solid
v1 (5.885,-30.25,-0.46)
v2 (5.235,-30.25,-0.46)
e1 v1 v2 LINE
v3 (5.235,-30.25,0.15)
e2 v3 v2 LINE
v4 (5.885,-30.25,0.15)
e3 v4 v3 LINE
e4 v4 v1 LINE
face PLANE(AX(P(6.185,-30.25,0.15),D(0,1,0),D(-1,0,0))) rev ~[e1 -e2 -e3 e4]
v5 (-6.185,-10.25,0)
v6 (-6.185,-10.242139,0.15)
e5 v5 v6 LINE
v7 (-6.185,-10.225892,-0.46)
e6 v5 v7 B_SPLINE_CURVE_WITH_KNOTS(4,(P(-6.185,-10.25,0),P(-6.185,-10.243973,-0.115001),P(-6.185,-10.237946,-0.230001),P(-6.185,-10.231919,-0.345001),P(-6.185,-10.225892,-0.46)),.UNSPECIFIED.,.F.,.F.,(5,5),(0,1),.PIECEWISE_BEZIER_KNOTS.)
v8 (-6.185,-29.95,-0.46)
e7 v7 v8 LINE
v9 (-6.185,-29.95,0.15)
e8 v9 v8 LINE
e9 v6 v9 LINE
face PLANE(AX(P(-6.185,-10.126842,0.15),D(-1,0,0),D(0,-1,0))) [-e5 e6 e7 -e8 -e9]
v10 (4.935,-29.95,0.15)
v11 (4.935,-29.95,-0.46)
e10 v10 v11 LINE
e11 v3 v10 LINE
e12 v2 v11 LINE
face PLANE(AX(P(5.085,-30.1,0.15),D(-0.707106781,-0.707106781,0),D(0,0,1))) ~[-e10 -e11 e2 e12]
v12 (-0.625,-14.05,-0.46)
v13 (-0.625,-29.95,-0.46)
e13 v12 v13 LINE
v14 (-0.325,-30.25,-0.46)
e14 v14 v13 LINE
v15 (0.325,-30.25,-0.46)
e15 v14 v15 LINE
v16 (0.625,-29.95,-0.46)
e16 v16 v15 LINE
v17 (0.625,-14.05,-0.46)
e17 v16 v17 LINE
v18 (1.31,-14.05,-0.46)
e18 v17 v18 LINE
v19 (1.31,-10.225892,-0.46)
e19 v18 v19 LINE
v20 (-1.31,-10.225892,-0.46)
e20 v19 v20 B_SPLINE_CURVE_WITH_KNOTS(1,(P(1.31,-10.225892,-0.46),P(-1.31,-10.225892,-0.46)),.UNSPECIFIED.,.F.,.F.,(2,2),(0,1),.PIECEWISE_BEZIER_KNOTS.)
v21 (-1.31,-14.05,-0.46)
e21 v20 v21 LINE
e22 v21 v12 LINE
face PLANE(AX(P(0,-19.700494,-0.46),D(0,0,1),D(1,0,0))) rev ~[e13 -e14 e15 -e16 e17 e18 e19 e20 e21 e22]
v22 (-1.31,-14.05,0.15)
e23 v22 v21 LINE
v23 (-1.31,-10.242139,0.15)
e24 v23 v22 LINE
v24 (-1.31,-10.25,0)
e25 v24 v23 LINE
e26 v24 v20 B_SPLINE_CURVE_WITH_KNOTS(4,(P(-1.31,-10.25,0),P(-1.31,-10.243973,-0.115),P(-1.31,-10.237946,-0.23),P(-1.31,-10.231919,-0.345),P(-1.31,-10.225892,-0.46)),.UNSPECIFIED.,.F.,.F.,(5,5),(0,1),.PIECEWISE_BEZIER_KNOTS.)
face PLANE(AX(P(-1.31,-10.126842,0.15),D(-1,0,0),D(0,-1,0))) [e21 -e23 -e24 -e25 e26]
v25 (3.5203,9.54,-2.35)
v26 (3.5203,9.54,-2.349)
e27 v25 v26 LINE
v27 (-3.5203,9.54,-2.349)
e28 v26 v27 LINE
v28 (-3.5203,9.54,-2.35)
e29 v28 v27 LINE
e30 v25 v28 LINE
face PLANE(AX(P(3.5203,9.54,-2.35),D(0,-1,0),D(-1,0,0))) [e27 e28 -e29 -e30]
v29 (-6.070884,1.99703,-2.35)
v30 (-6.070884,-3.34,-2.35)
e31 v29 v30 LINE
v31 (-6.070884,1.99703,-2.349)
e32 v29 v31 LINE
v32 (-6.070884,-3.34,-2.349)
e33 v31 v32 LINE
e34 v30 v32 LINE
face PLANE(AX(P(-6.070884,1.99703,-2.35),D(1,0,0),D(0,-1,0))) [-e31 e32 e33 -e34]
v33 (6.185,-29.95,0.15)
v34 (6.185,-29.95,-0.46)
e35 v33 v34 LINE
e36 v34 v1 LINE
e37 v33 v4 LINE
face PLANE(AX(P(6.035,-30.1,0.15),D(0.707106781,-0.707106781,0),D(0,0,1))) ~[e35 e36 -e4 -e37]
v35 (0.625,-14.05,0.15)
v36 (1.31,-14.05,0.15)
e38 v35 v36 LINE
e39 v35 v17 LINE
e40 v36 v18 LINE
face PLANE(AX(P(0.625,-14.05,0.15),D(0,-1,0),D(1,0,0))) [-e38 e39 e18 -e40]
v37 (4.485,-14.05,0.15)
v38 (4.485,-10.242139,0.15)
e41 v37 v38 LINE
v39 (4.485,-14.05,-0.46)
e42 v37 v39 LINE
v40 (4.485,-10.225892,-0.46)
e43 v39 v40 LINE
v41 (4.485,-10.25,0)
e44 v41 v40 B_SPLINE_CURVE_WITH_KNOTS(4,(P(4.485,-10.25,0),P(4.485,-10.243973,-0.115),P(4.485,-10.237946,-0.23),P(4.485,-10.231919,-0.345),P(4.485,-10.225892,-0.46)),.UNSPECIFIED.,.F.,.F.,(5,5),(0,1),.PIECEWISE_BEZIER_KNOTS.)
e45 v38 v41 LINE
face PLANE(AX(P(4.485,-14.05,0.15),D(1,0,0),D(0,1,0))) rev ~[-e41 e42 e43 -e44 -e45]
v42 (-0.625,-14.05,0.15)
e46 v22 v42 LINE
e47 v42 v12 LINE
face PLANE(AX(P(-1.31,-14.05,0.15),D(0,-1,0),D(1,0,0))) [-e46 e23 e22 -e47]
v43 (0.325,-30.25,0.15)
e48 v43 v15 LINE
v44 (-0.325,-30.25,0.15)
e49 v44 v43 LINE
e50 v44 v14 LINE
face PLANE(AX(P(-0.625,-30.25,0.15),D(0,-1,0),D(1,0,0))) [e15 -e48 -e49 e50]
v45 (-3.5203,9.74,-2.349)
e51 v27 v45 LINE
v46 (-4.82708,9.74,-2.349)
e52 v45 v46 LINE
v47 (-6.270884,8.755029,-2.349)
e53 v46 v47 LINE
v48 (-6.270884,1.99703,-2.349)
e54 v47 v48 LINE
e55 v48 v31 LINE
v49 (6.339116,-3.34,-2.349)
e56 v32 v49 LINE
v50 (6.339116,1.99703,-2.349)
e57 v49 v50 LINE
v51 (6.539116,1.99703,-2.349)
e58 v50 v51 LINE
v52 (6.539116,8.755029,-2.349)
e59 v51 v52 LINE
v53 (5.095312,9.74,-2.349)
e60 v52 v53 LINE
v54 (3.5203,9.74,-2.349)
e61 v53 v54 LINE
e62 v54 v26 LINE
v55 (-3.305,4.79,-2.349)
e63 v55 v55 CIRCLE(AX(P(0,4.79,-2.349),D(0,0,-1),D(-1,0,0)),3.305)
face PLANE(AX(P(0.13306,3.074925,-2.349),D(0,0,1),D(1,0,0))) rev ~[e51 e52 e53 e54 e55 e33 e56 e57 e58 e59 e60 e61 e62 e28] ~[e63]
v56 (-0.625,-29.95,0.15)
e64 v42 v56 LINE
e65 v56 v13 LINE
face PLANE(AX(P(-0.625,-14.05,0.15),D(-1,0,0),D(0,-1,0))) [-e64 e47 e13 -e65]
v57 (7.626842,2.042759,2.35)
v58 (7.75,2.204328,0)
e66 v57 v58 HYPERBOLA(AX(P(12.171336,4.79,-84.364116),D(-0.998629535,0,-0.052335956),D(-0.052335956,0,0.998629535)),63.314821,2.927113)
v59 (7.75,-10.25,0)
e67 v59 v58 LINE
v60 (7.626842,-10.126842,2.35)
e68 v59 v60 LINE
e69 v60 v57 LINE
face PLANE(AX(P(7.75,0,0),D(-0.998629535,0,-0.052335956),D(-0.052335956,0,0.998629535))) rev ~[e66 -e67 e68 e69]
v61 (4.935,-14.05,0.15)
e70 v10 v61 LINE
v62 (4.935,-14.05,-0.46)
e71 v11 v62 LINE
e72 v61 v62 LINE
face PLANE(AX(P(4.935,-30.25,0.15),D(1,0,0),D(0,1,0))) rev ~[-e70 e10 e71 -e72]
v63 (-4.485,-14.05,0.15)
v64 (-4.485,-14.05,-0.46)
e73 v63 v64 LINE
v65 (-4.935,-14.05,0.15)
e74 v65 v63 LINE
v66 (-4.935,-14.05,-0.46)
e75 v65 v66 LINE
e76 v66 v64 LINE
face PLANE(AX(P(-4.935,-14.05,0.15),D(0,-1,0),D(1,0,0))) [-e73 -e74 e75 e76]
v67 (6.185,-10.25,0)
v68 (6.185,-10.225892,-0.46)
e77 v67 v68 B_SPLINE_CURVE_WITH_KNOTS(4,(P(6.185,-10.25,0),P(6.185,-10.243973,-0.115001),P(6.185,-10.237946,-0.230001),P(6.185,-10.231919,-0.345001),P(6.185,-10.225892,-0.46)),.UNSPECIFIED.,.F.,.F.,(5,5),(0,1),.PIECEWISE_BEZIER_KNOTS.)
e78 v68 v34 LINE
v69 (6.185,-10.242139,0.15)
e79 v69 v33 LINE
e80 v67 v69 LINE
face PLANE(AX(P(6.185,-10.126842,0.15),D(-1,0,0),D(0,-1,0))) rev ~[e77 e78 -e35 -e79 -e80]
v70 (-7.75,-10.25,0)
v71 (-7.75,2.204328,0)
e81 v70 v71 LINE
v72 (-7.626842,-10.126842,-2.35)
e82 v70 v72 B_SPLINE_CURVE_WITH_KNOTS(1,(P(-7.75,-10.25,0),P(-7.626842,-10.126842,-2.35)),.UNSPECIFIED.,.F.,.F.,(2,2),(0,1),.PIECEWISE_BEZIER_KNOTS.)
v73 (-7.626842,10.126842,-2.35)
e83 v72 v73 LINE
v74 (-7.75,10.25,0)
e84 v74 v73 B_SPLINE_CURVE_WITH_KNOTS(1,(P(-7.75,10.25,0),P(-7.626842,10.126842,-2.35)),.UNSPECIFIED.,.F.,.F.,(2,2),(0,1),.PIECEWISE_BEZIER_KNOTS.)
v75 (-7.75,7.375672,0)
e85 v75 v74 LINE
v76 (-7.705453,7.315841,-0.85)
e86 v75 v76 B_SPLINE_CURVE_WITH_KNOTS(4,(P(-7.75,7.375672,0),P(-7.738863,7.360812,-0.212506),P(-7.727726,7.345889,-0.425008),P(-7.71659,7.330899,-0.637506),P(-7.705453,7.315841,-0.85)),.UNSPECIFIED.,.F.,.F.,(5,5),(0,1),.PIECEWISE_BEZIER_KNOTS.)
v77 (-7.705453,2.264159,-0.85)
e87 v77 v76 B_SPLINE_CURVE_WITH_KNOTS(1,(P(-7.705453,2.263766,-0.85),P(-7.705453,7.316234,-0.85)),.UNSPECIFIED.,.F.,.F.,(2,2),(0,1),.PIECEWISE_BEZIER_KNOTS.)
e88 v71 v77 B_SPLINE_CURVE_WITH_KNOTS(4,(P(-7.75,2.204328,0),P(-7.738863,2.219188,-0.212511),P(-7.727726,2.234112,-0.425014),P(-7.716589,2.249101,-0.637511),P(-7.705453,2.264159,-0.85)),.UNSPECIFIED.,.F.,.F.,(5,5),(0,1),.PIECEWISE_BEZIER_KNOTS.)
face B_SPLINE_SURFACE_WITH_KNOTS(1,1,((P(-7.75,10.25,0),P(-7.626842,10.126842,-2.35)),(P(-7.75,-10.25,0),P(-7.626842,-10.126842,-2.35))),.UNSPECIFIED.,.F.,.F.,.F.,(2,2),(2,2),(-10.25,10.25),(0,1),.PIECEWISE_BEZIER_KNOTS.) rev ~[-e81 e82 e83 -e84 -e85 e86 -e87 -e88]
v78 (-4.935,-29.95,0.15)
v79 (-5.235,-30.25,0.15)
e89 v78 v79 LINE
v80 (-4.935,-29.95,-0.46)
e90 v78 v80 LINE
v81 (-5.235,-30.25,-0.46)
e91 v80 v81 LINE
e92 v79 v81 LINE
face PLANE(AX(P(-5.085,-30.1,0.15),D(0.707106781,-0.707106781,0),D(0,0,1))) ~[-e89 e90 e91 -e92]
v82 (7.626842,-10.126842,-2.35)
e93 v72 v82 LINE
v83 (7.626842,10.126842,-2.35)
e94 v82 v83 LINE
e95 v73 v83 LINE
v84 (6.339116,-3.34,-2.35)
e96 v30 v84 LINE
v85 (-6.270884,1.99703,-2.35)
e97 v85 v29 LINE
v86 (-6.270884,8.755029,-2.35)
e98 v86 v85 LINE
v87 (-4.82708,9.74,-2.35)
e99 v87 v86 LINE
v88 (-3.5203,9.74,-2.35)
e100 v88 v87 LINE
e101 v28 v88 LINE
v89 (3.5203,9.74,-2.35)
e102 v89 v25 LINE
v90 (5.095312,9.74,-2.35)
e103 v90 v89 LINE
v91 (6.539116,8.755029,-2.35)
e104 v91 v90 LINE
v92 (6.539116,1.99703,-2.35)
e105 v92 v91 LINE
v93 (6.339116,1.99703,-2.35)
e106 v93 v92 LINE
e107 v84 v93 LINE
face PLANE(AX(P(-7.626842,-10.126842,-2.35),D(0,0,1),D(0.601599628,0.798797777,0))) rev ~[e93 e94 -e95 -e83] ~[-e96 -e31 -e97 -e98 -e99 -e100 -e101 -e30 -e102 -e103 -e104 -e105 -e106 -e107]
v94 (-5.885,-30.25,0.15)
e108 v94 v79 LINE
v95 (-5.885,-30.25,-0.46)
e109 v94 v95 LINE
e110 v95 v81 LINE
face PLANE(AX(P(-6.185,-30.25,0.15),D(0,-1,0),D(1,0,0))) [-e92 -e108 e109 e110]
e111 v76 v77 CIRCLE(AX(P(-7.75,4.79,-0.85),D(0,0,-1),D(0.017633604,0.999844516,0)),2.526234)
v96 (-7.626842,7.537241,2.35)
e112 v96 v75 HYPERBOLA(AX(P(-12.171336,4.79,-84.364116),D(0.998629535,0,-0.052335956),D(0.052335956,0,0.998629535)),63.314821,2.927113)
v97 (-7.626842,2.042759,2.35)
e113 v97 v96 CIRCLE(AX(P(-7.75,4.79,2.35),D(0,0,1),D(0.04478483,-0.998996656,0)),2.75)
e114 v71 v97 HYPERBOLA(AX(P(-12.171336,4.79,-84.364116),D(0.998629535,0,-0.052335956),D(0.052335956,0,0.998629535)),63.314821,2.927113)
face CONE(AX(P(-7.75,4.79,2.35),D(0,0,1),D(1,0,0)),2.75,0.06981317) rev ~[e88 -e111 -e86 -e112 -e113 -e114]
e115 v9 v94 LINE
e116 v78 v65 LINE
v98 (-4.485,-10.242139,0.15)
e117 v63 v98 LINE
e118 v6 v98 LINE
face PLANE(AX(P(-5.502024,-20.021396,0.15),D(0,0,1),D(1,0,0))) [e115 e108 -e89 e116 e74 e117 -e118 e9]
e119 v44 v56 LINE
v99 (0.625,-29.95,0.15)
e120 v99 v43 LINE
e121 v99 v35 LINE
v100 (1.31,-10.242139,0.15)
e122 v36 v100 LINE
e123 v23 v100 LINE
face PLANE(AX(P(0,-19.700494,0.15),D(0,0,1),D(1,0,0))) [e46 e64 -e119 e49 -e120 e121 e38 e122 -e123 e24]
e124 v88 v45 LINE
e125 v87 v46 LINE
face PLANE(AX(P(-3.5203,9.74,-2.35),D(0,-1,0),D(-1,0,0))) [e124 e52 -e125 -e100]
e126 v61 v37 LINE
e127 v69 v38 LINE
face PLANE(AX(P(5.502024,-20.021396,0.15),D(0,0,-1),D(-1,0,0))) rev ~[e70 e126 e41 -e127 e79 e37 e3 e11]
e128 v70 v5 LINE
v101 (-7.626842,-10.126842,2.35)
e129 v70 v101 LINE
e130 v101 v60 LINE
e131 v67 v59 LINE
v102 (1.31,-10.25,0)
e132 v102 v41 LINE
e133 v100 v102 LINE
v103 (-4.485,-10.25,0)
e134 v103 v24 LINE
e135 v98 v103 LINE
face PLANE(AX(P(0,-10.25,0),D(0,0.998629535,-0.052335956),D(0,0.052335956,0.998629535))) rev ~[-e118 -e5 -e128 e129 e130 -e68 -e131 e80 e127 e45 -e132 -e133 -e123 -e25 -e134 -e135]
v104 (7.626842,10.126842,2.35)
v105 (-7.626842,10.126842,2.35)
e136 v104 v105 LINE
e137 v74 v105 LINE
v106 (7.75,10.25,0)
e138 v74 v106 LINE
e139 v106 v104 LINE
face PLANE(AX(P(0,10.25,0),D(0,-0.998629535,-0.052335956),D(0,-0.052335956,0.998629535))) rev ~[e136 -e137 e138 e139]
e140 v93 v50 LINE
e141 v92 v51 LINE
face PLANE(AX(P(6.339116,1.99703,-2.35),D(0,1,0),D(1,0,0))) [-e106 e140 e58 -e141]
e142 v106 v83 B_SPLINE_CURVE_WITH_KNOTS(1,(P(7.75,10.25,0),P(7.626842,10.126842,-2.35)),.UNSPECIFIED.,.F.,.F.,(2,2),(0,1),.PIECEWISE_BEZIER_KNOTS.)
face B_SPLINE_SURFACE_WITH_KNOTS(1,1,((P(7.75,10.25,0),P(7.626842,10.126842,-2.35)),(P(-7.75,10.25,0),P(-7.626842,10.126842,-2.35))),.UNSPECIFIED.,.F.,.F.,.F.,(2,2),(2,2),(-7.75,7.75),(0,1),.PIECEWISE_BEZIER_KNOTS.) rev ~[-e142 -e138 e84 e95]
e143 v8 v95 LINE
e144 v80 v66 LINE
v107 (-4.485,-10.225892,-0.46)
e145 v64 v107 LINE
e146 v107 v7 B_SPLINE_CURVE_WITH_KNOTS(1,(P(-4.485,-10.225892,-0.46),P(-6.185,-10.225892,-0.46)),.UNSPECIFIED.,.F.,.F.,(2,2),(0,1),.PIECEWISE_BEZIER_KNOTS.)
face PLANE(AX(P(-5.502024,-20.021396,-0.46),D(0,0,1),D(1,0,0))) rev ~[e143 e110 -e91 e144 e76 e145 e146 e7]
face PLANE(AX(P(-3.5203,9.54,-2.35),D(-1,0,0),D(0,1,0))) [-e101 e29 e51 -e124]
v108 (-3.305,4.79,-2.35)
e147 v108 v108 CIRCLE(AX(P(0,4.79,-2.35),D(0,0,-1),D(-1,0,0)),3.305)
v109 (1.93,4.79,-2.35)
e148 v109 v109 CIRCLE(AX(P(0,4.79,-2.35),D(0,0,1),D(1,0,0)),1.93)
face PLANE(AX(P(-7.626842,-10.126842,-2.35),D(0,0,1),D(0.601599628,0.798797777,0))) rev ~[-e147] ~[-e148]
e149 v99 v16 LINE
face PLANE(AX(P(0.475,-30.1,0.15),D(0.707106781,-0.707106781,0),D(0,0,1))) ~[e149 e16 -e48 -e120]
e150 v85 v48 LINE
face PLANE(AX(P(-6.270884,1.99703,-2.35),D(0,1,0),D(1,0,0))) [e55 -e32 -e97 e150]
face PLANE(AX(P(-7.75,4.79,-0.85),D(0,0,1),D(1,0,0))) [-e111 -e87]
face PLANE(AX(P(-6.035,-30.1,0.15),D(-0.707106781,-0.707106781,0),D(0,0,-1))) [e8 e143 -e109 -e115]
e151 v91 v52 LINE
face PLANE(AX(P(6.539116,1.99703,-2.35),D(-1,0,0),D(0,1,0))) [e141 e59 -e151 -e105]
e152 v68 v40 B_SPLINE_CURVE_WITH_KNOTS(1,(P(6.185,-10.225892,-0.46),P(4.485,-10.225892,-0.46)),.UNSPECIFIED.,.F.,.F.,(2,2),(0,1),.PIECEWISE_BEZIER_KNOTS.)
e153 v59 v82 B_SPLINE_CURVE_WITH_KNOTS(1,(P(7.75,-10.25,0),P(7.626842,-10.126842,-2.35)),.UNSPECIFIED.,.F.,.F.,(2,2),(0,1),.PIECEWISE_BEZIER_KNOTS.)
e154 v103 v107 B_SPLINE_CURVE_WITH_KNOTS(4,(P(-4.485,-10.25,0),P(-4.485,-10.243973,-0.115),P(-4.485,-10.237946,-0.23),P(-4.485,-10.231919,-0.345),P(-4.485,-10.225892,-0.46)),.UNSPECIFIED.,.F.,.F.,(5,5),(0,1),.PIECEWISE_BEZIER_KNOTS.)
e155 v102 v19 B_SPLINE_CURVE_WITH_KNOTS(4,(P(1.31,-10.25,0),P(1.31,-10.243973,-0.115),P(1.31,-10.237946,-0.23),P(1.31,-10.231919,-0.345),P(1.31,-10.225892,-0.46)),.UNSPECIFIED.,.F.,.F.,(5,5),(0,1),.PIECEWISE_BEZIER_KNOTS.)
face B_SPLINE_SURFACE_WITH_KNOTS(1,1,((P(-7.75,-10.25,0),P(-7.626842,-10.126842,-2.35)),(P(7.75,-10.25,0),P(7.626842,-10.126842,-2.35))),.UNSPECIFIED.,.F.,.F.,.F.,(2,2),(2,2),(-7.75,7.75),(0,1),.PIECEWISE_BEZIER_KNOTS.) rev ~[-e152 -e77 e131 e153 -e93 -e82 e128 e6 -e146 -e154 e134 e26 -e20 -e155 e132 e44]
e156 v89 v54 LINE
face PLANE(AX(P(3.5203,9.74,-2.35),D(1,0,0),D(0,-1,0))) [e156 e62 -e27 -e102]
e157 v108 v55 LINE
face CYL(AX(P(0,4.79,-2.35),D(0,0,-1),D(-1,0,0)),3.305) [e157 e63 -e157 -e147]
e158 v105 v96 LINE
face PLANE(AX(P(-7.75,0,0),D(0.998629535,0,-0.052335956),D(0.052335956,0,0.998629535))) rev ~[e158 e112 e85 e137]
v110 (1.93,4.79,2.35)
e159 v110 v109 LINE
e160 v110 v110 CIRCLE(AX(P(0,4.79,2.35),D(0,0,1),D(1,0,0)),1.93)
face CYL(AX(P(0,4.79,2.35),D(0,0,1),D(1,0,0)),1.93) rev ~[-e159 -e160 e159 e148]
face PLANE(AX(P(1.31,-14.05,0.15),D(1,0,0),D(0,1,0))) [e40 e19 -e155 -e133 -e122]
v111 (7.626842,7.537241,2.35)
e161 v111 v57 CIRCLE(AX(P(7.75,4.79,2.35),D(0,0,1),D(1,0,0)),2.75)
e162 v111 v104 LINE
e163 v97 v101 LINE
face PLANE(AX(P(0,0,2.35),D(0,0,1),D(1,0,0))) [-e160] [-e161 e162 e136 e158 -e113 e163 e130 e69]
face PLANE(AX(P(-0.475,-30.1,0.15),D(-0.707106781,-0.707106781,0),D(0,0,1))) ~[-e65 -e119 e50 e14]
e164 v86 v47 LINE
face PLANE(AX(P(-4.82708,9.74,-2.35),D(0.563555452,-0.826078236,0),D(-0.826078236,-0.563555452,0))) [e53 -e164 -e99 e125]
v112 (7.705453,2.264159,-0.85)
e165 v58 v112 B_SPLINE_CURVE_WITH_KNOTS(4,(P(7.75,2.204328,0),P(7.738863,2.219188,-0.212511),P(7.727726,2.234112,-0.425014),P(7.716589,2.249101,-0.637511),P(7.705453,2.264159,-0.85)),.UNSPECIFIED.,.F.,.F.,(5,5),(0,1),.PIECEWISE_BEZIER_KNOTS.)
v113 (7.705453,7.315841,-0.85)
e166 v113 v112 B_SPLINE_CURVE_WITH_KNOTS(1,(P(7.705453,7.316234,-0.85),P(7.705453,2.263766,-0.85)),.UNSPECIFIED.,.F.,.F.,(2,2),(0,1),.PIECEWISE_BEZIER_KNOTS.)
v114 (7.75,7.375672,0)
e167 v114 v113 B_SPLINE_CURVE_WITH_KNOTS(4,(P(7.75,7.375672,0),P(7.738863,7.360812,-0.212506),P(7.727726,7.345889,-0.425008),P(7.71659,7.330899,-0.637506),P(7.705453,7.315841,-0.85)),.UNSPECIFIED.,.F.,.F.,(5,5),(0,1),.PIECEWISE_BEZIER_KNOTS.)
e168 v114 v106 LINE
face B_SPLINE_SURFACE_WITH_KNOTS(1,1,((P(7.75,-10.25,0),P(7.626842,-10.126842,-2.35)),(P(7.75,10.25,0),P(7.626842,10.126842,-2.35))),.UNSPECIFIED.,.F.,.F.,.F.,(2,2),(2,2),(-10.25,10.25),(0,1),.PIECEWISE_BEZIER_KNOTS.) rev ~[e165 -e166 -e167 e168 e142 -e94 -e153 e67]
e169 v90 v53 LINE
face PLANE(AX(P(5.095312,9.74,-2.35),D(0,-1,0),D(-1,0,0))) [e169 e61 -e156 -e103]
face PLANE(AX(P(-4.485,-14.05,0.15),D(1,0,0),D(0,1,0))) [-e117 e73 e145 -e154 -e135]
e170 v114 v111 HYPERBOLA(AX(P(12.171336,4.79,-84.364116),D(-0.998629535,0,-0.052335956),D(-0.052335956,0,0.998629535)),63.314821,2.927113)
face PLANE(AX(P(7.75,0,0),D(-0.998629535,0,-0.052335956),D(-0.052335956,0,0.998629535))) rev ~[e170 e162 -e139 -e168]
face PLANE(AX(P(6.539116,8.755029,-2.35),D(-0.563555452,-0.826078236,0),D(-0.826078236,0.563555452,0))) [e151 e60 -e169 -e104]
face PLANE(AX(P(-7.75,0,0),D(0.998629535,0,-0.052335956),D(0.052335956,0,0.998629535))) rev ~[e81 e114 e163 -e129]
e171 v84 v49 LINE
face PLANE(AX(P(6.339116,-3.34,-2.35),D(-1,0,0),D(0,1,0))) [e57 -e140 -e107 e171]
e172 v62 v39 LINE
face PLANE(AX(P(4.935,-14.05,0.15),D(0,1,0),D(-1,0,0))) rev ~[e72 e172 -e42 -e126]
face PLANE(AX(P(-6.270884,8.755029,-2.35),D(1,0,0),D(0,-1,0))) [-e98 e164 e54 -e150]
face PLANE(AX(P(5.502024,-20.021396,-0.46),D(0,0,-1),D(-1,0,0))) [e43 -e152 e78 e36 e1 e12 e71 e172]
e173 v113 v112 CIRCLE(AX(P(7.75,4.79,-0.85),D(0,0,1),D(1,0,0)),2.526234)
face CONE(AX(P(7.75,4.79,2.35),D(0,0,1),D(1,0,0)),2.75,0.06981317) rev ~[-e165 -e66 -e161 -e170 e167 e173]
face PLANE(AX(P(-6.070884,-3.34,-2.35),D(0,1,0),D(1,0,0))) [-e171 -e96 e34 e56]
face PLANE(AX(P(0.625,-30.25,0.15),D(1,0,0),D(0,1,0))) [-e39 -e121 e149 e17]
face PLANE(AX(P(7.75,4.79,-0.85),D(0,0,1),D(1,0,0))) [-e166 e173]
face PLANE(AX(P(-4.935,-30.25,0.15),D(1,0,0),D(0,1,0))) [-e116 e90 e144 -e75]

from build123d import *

# Parameters (mm, degrees)
SKETCH1_W                     = 15.500000000000002
SKETCH1_H                     = 20.5
BOSS_EXTRUDE1_DEPTH           = 2.35
BOSS_EXTRUDE1_TAPER           = 3.0000000000000067
BOSS_EXTRUDE1_OTHER_WAY_DEPTH = 2.35
BOSS_EXTRUDE1_OTHER_WAY_TAPER = 3.0000000000000067
SKETCH2_R                     = 1.9300000000000004
CUT_EXTRUDE1_DEPTH            = 14.682653417374864
SKETCH3_R                     = 2.7499999999999982
CUT_EXTRUDE2_DEPTH            = 3.2
CUT_EXTRUDE2_DRAFT            = -4.000000000000009
SKETCH3_R_2                   = 2.75
CUT_EXTRUDE2_PROFILE_2_DEPTH  = 3.2
CUT_EXTRUDE2_PROFILE_2_DRAFT  = -4.000000000000009
SKETCH4_R                     = 3.305
CUT_EXTRUDE3_DEPTH            = 0.001
BOSS_EXTRUDE2_DEPTH           = 0.61
CHAMFER1_SIZE                 = 0.3


with BuildPart() as part:
    # Sketch1 → Boss-Extrude1 (new body)
    with BuildSketch(Plane.XY):
        Rectangle(SKETCH1_W, SKETCH1_H)
    extrude(amount=BOSS_EXTRUDE1_DEPTH, taper=BOSS_EXTRUDE1_TAPER)

    # Sketch1 → Boss-Extrude1 other way (add)
    with BuildSketch(Plane.XY):
        Rectangle(SKETCH1_W, SKETCH1_H)
    extrude(amount=-BOSS_EXTRUDE1_OTHER_WAY_DEPTH, taper=BOSS_EXTRUDE1_OTHER_WAY_TAPER)

    # Sketch2 → Cut-Extrude1 (cut, through all)
    with BuildSketch(Plane.XY.offset(2.35)):
        with Locations((0, 4.790000000000001)):
            Circle(SKETCH2_R)
    extrude(amount=-CUT_EXTRUDE1_DEPTH, mode=Mode.SUBTRACT)


with BuildPart() as cut_extrude2_tool:
    # Sketch3 → Cut-Extrude2 (with draft: the straight prism first)
    with BuildSketch(Plane.XY.offset(2.35)):
        with Locations((7.75, 4.790000000000001)):
            Circle(SKETCH3_R)
    extrude(amount=-CUT_EXTRUDE2_DEPTH)
    # Cut-Extrude2: the draft: its side faces are tilted about the plane it starts from
    cut_extrude2_sides = [cut_extrude2_tool.faces().sort_by_distance(p)[0] for p in [
        (5, 4.79, 0.75),
    ]]
    draft(cut_extrude2_sides, Plane.XY.offset(2.35), CUT_EXTRUDE2_DRAFT)


with BuildPart() as part_1:
    add(part.part)

    # Cut-Extrude2: cut by cut_extrude2_tool
    add(cut_extrude2_tool.part, mode=Mode.SUBTRACT)


with BuildPart() as cut_extrude2_profile_2_tool:
    # Sketch3 → Cut-Extrude2 profile 2 (with draft: the straight prism first)
    with BuildSketch(Plane.XY.offset(2.35)):
        with Locations((-7.75, 4.790000000000001)):
            Circle(SKETCH3_R_2)
    extrude(amount=-CUT_EXTRUDE2_PROFILE_2_DEPTH)
    # Cut-Extrude2 profile 2: the draft: its side faces are tilted about the plane it starts from
    cut_extrude2_profile_2_sides = [cut_extrude2_profile_2_tool.faces().sort_by_distance(p)[0] for p in [
        (-10.5, 4.79, 0.75),
    ]]
    draft(cut_extrude2_profile_2_sides, Plane.XY.offset(2.35), CUT_EXTRUDE2_PROFILE_2_DRAFT)


with BuildPart() as part_2:
    add(part_1.part)

    # Cut-Extrude2 profile 2: cut by cut_extrude2_profile_2_tool
    add(cut_extrude2_profile_2_tool.part, mode=Mode.SUBTRACT)

    # Sketch4 → Cut-Extrude3 (cut)
    with BuildSketch(Plane(origin=(0, 0, -2.35), x_dir=(-1, 0, 0), z_dir=(0, 0, -1))):
        Polygon((-6.539115869693152, 8.755028571929065), (-5.095312145144818, 9.74), (-3.520299832613913, 9.74), (-3.520299832613913, 9.540000000000001), (3.520299832613913, 9.540000000000001), (3.520299832613913, 9.74), (4.827080405758514, 9.74), (6.2708841303068485, 8.755028571929065), (6.270884130306849, 1.9970301626645939), (6.07088413030685, 1.9970301626645939), (6.070884130306851, -3.3399999999999994), (-6.339115869693153, -3.3400000000000007), (-6.339115869693152, 1.9970301626645925), (-6.539115869693152, 1.997030162664592), align=None)
        with Locations((0, 4.790000000000001)):
            Circle(SKETCH4_R, mode=Mode.SUBTRACT)
    extrude(amount=-CUT_EXTRUDE3_DEPTH, mode=Mode.SUBTRACT)

    # Sketch6 → Boss-Extrude2 (add)
    with BuildSketch(Plane(origin=(0, 0, 0.14999999999999997), x_dir=(-1, 0, 0), z_dir=(0, 0, -1))):
        Polygon((-6.1850000000000005, -10.126841718684854), (-6.184999999999995, -30.249999999999993), (-4.934999999999998, -30.249999999999993), (-4.934999999999998, -14.049999999999999), (-4.484999999999999, -14.049999999999999), (-4.485, -10.126841718684854), align=None)
        Polygon((4.485000000000002, -10.126841718684853), (6.185000000000002, -10.126841718684853), (6.185000000000002, -30.249999999999993), (4.935000000000004, -30.249999999999993), (4.935000000000001, -14.049999999999997), (4.485000000000003, -14.049999999999997), align=None)
        Polygon((-1.3099999999999987, -10.126841718684854), (1.3100000000000005, -10.126841718684854), (1.3100000000000016, -14.05), (0.6250000000000014, -14.05), (0.6250000000000027, -30.249999999999993), (-0.624999999999995, -30.249999999999993), (-0.6249999999999972, -14.049999999999999), (-1.3099999999999983, -14.049999999999999), align=None)
    extrude(amount=BOSS_EXTRUDE2_DEPTH)

    # Chamfer1
    chamfer1_edges = [part_2.edges().sort_by_distance(p)[0] for p in [
        (6.184999999999995, -30.249999999999993, -0.15500000000000003),
        (4.934999999999998, -30.249999999999993, -0.15500000000000003),
        (-4.935000000000004, -30.249999999999993, -0.15500000000000003),
        (-6.185000000000002, -30.249999999999993, -0.15500000000000003),
        (0.624999999999995, -30.249999999999993, -0.15500000000000003),
        (-0.6250000000000027, -30.249999999999993, -0.15500000000000003),
    ]]
    chamfer(chamfer1_edges, length=CHAMFER1_SIZE)


solid = part_2.part
